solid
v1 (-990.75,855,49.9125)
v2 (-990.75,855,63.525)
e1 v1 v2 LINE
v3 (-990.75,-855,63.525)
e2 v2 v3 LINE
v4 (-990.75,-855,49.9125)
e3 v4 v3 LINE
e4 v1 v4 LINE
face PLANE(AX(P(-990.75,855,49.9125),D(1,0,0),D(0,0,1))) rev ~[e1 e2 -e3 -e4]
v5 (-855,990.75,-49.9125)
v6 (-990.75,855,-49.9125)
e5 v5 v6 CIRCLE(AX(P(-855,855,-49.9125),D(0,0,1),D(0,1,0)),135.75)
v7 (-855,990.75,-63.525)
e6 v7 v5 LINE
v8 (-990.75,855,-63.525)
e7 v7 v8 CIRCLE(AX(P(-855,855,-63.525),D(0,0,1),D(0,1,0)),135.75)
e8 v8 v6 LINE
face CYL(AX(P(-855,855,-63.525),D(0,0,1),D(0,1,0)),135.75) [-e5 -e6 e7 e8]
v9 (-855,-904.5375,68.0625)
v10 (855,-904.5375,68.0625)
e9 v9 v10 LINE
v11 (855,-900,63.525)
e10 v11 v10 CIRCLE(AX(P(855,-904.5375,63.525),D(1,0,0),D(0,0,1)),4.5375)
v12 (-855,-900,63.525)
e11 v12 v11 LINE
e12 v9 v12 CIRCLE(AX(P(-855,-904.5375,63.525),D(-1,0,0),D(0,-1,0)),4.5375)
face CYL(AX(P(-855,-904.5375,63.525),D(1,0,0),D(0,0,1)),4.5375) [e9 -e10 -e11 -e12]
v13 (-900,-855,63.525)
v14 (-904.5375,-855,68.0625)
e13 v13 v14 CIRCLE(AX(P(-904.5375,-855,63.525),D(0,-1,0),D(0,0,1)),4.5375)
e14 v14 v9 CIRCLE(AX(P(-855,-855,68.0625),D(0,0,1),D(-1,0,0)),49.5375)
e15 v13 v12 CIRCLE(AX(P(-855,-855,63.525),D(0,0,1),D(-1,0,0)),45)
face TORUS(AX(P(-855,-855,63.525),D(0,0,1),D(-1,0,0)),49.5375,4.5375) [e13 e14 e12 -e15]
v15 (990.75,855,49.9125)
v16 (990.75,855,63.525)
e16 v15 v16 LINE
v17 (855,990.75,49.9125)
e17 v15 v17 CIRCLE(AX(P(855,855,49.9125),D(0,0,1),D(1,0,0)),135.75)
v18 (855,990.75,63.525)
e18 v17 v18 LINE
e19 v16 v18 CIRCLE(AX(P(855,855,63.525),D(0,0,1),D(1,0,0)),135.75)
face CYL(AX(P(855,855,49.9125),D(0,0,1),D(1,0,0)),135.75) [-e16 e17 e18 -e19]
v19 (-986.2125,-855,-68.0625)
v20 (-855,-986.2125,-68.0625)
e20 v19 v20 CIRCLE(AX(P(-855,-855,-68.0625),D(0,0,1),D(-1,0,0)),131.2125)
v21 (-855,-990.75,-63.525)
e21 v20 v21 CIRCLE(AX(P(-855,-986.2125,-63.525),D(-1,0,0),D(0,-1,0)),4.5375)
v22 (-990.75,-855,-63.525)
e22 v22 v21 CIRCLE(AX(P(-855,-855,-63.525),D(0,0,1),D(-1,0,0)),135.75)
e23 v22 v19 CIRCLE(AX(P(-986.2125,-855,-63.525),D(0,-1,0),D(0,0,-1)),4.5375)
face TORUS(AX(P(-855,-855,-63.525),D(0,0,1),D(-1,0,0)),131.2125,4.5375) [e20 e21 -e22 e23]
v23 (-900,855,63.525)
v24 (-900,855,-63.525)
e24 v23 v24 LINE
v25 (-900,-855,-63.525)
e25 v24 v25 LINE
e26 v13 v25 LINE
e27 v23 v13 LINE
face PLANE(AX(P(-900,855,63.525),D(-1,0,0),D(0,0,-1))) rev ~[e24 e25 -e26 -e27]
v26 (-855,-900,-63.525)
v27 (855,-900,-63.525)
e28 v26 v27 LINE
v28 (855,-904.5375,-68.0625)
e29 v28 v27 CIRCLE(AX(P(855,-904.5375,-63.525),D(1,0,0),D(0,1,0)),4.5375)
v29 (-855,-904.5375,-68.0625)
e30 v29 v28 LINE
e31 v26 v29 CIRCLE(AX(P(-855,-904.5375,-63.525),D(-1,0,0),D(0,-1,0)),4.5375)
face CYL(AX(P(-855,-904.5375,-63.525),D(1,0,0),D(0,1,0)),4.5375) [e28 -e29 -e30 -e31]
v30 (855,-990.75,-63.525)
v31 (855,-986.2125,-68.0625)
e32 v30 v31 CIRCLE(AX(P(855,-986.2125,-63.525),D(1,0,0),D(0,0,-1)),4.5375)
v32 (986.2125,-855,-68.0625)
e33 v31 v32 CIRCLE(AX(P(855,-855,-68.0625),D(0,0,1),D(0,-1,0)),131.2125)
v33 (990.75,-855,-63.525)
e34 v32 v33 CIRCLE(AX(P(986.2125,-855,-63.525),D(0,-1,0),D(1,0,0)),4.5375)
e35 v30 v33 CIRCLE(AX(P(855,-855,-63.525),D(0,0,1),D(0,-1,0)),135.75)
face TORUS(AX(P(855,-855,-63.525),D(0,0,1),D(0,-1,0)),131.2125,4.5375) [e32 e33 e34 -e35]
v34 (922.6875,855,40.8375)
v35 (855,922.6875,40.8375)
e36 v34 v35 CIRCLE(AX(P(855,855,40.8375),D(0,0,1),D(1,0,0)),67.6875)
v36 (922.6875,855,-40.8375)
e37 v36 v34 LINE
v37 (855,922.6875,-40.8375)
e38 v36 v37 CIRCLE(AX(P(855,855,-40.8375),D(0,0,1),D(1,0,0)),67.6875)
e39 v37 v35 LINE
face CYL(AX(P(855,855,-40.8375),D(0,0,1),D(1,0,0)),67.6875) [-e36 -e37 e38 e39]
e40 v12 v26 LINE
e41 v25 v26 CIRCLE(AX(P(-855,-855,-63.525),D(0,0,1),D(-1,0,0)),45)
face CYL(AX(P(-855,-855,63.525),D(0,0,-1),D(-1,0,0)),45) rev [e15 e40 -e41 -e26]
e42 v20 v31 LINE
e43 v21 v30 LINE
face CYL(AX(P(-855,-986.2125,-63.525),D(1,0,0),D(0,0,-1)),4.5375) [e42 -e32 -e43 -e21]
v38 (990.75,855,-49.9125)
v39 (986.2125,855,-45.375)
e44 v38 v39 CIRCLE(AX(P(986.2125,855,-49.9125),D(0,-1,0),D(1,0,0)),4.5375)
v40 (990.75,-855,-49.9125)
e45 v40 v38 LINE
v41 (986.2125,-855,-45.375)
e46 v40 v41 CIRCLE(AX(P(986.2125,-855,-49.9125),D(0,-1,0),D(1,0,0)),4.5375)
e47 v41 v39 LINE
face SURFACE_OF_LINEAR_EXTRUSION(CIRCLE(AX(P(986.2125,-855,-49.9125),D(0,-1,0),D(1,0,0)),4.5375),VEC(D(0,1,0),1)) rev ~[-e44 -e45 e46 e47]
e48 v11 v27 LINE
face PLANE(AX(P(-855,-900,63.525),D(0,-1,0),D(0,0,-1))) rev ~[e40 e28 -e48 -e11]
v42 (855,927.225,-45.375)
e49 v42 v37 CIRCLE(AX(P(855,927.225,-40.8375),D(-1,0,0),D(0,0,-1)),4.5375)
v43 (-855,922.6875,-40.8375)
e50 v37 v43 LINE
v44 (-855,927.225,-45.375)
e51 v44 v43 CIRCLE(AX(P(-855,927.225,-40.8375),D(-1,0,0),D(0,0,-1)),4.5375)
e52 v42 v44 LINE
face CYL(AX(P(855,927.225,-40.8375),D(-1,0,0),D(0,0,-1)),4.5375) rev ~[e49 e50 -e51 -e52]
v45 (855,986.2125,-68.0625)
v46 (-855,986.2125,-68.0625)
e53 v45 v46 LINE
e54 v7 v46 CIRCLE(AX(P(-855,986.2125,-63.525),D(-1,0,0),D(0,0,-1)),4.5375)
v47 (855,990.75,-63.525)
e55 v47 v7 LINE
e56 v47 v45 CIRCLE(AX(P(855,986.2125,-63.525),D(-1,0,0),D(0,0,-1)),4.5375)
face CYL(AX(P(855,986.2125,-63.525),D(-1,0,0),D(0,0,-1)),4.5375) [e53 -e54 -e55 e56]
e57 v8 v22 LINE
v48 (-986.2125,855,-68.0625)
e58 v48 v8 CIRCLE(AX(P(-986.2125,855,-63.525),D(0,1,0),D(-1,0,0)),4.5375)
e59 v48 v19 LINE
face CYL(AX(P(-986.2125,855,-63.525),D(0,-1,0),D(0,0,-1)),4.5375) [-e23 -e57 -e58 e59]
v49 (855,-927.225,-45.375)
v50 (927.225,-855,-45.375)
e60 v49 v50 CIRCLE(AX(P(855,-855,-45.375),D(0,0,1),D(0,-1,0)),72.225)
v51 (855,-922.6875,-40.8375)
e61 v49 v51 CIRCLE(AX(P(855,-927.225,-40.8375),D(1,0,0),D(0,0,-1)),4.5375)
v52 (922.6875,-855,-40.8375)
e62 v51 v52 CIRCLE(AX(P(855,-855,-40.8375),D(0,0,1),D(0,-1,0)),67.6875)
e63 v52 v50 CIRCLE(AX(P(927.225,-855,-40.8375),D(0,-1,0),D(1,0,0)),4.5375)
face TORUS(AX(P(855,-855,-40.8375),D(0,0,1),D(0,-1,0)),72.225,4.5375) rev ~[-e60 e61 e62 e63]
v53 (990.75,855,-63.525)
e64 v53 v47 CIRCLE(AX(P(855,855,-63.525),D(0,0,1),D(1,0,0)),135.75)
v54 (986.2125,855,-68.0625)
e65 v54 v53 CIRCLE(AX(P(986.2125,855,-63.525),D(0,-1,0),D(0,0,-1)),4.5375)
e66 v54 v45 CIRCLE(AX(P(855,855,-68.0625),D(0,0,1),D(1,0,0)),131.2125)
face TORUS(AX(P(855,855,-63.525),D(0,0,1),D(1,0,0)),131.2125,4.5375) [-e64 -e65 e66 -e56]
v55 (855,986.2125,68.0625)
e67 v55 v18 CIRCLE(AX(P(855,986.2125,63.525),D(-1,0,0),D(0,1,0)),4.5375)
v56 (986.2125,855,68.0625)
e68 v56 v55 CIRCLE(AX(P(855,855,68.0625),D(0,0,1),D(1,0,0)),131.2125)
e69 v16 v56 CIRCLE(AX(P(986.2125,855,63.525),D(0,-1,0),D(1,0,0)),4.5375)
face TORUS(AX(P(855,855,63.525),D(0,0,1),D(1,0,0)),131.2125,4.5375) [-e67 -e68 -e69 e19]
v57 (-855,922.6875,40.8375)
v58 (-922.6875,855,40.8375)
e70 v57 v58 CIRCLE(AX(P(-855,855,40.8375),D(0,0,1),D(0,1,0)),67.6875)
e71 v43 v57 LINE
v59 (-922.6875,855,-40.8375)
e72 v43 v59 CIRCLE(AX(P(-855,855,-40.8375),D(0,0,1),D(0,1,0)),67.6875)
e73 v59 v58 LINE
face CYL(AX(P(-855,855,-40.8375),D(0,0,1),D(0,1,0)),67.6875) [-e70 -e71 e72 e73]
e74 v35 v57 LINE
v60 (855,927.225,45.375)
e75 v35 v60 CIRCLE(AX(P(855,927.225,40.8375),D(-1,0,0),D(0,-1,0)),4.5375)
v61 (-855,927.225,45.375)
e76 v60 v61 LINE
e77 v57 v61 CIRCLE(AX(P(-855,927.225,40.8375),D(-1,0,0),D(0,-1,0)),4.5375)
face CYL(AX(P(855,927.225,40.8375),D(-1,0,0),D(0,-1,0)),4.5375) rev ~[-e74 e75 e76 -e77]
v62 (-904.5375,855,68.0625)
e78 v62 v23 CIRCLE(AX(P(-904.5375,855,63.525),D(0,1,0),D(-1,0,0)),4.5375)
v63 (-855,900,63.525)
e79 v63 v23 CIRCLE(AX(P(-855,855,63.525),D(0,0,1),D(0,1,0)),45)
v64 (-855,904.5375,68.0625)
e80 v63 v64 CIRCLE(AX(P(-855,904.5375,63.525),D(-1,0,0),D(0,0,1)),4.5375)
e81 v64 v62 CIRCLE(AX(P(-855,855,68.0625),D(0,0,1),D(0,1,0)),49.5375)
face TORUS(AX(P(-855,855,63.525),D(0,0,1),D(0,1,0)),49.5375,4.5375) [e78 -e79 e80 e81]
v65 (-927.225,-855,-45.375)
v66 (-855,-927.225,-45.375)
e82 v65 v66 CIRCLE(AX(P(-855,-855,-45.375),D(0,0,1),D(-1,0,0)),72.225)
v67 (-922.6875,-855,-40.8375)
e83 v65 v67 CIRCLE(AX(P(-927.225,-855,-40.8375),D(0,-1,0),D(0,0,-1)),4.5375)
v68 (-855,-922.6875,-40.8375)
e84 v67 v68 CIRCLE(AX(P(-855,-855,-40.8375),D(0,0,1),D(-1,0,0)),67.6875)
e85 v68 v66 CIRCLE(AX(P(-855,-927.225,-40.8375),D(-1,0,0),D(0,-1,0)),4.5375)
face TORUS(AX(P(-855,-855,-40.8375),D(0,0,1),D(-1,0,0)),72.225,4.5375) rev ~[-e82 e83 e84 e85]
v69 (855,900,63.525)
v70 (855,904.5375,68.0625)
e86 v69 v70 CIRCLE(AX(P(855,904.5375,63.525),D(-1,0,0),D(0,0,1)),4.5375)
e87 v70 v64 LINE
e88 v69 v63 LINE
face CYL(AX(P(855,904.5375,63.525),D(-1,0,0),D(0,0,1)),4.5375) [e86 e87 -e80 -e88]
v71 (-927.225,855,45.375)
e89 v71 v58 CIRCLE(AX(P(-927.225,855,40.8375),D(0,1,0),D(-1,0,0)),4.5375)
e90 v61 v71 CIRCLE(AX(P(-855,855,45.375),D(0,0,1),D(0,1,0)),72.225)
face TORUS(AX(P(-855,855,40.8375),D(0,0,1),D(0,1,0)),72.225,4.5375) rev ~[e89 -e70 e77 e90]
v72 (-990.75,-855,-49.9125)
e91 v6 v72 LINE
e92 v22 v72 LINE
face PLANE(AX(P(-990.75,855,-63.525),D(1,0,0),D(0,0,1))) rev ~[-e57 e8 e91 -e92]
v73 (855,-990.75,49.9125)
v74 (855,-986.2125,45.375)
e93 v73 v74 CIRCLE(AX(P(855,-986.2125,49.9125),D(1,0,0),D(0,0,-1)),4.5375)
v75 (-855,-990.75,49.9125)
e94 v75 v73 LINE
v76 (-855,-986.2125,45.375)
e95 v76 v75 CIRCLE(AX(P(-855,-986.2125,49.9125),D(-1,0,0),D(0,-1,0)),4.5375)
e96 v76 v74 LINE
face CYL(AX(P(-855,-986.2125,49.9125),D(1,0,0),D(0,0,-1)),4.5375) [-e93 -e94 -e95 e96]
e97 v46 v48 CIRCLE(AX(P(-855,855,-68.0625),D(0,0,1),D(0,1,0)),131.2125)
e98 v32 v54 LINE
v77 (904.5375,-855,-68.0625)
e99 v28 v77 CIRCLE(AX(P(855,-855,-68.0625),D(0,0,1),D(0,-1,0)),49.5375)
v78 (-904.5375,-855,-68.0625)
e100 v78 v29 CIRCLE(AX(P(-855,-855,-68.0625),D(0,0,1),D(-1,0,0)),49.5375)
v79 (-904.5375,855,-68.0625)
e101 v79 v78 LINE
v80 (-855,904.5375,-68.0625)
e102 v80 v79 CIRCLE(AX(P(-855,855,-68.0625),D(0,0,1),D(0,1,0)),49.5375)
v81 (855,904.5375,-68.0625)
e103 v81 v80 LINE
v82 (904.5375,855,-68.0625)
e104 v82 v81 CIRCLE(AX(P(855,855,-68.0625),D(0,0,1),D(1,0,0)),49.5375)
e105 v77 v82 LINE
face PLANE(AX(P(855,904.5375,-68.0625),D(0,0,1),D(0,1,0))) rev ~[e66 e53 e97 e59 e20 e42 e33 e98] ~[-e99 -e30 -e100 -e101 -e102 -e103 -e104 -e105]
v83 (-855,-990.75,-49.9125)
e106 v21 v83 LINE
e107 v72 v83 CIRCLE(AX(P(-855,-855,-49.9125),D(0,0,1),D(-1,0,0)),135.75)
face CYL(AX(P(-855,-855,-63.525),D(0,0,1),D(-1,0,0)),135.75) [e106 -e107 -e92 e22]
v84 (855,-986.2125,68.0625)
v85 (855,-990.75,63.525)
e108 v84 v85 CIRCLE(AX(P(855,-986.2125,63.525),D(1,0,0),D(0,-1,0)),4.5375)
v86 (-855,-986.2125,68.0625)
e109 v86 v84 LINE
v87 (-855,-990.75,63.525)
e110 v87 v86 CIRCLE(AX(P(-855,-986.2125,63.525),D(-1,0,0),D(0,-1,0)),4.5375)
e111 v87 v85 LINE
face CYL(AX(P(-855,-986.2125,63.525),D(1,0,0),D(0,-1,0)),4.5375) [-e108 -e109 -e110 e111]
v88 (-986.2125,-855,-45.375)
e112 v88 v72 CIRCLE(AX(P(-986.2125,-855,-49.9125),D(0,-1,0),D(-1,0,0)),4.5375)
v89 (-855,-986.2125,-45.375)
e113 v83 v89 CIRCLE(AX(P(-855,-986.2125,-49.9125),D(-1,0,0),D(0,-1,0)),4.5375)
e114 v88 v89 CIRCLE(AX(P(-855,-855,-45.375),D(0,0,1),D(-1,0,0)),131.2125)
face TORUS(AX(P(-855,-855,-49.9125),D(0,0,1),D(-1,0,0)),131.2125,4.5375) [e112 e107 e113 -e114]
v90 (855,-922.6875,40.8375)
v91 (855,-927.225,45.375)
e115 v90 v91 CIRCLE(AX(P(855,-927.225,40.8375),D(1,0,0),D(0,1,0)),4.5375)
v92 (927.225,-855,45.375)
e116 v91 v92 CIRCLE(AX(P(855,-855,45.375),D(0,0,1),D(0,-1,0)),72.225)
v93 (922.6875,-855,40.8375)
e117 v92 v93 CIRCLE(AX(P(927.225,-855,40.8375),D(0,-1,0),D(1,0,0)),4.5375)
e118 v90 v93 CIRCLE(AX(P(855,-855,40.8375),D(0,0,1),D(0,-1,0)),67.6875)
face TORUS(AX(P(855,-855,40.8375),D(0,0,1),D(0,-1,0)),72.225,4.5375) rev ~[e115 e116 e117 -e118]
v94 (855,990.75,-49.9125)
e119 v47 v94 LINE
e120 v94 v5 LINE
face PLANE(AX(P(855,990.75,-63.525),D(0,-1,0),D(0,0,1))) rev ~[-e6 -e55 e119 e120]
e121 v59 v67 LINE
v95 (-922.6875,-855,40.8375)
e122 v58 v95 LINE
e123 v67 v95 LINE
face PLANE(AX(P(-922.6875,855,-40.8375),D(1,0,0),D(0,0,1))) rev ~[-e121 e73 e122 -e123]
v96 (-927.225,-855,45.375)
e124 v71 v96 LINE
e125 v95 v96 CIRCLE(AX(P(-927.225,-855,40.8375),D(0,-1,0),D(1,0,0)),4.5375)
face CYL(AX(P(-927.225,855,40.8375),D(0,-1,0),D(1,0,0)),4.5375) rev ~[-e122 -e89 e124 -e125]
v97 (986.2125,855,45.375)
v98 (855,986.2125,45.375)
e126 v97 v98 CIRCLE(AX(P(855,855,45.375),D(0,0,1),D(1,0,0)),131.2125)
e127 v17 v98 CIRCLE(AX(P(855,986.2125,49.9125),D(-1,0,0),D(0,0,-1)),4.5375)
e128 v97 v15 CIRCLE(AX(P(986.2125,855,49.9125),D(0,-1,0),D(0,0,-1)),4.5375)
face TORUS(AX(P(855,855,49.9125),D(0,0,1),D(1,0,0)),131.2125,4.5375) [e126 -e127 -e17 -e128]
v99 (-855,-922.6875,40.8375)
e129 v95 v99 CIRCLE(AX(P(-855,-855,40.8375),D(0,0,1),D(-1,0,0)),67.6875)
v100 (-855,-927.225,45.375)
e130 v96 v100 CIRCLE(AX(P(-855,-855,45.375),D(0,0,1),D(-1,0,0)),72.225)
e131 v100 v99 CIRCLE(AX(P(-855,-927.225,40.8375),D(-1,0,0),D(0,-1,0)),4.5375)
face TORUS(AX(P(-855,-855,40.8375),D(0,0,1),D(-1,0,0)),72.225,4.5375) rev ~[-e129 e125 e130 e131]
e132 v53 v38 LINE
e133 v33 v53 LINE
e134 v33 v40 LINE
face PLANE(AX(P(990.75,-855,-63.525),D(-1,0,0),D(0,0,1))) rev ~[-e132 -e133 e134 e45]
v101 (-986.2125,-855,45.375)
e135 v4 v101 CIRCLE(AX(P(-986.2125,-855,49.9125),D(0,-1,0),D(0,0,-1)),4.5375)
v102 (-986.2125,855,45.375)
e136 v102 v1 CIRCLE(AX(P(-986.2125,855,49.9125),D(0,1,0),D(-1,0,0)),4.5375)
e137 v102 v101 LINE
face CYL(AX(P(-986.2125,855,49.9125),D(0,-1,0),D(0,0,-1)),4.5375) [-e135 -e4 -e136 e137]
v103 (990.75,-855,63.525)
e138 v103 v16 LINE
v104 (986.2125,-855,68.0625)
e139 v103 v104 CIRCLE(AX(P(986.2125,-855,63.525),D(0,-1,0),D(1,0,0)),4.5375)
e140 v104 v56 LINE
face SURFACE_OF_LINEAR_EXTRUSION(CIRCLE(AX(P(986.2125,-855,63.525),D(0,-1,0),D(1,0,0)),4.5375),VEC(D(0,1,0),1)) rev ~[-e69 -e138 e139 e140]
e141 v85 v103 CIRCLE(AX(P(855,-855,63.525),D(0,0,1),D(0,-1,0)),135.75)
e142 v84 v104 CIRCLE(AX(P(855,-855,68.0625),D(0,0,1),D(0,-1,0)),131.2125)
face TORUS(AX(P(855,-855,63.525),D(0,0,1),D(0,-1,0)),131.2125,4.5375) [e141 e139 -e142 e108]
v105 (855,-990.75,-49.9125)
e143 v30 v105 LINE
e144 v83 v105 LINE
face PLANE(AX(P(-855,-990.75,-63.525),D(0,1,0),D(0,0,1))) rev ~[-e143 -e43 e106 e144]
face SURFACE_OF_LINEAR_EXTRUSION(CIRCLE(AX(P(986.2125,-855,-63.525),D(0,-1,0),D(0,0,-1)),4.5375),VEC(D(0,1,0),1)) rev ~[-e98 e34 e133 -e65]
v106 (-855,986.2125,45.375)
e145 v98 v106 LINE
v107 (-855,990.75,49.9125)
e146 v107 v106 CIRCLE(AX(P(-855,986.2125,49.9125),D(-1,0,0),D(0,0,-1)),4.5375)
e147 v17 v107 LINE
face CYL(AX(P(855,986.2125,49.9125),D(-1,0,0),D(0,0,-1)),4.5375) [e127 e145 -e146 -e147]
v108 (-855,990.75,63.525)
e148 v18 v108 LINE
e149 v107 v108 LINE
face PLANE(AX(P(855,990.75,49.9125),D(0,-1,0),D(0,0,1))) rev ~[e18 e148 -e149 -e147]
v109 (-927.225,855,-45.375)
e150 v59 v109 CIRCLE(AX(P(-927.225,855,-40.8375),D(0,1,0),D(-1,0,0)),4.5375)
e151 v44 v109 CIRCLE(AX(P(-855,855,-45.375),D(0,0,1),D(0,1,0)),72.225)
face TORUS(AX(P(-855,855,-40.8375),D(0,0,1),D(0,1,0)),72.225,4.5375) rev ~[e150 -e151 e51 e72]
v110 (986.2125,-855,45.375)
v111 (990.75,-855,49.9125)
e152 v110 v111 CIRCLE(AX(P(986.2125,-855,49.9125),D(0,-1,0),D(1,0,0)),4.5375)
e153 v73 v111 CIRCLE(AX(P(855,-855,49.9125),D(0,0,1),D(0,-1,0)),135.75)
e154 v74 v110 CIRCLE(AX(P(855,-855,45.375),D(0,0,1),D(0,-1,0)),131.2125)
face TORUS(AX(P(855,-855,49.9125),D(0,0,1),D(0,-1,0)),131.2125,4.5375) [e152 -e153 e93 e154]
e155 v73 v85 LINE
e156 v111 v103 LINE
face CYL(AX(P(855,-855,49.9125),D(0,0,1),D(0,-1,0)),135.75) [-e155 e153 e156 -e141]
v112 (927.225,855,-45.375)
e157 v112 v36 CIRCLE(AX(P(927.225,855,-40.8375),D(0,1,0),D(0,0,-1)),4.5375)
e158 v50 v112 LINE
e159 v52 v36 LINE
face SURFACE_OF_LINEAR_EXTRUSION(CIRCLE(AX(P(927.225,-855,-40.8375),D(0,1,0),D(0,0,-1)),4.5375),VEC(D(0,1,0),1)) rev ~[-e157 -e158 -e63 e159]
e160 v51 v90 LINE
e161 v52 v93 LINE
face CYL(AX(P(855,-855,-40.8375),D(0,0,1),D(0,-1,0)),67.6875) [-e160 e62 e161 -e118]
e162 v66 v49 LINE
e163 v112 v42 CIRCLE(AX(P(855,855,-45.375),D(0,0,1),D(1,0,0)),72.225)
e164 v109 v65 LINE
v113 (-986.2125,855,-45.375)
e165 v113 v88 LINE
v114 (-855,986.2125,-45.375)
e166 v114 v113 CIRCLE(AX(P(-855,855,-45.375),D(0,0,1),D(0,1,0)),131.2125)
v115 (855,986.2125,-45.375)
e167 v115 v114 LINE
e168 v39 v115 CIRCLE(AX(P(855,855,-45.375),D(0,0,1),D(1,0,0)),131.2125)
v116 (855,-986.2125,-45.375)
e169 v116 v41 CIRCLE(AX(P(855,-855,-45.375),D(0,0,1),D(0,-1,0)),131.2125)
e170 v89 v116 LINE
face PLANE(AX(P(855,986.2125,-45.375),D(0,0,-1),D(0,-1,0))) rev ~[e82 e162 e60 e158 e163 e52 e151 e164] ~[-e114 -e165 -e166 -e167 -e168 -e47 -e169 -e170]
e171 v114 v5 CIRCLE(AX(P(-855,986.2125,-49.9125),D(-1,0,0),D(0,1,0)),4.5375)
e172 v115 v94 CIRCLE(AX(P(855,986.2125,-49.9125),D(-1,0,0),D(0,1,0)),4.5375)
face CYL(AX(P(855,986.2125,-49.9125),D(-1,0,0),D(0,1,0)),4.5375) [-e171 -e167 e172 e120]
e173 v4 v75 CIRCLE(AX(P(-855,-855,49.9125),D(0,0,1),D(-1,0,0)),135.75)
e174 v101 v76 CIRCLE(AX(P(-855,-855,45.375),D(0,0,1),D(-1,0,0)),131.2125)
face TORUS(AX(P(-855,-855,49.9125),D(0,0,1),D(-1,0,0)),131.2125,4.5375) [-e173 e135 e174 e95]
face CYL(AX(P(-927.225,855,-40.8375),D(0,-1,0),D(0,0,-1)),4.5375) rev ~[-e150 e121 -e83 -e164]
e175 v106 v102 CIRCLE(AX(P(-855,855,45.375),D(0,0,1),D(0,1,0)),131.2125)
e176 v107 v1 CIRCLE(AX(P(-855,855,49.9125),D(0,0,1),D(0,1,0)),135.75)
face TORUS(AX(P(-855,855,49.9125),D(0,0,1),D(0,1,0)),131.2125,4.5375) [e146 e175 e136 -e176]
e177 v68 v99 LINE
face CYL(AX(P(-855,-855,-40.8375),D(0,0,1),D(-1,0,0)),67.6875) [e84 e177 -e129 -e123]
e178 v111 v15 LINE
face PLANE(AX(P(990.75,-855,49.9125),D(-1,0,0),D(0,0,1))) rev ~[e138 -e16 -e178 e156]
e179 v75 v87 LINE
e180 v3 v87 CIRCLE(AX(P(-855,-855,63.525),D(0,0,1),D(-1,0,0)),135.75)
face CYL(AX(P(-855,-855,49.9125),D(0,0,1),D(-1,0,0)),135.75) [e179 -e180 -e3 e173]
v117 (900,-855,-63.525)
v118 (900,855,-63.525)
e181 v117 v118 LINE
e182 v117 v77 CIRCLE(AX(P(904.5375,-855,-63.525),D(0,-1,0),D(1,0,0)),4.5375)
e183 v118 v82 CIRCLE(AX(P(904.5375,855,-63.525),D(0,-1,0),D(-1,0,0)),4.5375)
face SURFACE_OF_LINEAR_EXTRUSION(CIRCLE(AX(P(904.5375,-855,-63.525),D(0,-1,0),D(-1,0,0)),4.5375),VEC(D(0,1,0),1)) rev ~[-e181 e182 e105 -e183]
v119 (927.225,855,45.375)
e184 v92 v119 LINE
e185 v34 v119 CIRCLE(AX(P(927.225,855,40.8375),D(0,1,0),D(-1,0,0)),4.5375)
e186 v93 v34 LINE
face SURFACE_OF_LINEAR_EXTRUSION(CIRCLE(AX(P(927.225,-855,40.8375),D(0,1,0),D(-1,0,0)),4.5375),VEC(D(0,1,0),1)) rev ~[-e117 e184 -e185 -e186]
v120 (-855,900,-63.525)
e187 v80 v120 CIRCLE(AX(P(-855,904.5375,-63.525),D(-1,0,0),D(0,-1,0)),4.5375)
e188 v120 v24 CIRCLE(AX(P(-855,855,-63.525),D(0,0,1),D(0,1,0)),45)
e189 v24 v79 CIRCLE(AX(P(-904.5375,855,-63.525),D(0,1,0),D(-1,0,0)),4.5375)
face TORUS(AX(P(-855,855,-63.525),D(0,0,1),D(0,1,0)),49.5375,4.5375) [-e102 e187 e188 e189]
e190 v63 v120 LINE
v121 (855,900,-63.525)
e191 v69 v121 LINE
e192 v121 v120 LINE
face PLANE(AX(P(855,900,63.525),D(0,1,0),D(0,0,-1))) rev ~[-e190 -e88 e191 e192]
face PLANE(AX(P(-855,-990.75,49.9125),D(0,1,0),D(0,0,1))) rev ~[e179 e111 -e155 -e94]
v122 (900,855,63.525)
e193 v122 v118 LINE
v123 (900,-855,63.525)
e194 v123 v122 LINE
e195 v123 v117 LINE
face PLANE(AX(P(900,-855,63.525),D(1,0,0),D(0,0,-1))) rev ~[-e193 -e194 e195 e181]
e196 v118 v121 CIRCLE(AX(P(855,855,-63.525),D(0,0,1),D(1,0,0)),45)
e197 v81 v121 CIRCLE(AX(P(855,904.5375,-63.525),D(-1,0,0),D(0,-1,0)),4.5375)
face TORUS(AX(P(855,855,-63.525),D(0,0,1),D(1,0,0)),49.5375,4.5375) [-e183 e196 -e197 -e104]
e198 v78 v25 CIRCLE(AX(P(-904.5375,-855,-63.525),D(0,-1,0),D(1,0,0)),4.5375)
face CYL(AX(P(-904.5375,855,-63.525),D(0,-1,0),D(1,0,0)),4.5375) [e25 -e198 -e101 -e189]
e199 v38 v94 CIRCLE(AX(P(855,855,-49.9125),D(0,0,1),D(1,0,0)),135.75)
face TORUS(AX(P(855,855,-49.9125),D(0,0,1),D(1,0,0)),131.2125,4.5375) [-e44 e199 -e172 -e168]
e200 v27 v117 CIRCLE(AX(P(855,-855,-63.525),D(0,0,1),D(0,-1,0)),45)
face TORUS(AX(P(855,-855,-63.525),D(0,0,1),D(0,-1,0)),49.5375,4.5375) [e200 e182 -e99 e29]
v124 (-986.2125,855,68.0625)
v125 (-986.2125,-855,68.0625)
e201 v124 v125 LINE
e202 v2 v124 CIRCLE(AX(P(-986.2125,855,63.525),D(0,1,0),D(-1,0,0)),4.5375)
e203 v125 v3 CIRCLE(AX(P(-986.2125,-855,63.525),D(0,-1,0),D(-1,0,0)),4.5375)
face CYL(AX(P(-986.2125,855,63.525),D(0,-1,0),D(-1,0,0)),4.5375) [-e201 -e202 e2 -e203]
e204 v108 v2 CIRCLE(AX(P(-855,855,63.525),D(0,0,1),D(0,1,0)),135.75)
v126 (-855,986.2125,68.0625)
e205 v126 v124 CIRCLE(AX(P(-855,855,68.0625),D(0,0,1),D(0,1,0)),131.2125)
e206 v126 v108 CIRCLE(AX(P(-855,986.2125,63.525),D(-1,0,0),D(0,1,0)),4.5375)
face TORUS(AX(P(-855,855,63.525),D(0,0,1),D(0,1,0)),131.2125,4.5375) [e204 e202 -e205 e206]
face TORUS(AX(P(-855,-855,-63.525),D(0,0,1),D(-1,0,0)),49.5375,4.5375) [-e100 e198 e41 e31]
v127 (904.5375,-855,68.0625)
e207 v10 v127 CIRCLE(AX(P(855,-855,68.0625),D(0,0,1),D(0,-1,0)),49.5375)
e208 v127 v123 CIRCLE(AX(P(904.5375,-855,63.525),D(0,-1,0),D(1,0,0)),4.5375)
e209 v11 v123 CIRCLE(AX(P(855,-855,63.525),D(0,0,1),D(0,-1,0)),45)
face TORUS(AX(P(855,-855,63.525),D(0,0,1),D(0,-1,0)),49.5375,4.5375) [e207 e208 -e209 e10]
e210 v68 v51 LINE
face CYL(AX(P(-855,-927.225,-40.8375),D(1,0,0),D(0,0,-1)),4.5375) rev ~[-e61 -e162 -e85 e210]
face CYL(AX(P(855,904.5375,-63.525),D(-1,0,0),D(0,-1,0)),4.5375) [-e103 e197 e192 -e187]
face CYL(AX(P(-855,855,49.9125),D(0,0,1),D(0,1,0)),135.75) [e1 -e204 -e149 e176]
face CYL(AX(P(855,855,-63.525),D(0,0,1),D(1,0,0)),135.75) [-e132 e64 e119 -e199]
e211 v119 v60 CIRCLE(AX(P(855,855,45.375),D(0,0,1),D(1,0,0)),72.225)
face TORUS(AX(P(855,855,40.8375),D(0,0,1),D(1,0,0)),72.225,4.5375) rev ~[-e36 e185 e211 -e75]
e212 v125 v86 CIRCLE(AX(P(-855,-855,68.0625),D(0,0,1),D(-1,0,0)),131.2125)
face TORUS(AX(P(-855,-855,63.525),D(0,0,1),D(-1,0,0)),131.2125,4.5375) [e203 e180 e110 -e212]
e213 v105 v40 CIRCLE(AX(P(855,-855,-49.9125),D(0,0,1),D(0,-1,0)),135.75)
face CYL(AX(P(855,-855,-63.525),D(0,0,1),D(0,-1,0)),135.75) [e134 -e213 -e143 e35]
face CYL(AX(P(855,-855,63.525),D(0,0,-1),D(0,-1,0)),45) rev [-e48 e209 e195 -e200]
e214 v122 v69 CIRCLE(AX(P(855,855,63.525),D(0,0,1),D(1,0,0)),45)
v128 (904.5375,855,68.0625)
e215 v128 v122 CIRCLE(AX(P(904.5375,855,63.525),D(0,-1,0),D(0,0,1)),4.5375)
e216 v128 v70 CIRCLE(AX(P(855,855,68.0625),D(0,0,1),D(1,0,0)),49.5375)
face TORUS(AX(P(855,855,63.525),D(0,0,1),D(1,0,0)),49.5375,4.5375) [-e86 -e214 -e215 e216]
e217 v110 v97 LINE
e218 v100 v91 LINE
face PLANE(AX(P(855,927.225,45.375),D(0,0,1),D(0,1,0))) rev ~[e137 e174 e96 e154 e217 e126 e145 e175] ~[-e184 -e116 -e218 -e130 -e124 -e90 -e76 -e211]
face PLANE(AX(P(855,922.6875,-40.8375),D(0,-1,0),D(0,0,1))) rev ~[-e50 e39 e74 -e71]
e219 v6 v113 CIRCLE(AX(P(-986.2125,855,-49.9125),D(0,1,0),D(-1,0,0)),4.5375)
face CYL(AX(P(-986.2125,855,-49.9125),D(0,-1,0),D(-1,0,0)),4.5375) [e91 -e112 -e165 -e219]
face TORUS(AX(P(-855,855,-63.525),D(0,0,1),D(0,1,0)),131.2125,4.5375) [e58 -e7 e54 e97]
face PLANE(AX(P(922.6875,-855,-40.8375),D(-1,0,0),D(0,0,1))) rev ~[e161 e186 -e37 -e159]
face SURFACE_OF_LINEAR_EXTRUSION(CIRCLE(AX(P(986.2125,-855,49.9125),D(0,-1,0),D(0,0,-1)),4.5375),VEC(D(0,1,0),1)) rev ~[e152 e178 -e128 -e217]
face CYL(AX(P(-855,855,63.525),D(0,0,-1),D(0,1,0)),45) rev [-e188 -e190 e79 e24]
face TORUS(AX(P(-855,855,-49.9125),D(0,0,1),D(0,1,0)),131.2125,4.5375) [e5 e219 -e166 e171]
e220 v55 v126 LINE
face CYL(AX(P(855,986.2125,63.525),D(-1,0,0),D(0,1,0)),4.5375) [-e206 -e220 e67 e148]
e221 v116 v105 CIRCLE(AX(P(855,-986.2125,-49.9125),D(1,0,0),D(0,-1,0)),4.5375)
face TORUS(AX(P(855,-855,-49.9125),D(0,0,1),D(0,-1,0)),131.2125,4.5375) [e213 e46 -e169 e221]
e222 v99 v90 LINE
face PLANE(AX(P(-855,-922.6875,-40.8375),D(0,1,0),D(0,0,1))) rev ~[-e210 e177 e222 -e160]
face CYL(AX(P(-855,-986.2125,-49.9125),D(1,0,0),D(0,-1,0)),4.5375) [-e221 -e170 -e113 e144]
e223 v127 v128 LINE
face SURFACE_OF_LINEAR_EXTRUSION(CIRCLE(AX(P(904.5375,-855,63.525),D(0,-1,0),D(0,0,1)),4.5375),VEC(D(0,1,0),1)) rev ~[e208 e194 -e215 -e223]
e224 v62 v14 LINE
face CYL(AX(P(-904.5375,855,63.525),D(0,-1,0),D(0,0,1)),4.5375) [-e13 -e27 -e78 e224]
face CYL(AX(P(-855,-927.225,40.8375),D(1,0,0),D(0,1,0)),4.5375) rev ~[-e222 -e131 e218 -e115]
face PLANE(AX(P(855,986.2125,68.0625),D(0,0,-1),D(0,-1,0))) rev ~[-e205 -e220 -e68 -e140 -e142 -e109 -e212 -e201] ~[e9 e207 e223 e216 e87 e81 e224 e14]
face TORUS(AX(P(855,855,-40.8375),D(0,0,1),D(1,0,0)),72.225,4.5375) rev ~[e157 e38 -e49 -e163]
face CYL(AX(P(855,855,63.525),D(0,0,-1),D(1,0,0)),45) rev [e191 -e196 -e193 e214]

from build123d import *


with BuildPart() as part:
    # Sweep1: sweep along a path in Sketch2
    with BuildLine(Plane.XY) as sweep1_path:
        Line((855, 900), (-855, 900))
        ThreePointArc((-855, 900), (-886.819805153, 886.819805153), (-900, 855))
        Line((-900, 855), (-900, -855))
        ThreePointArc((-900, -855), (-886.819805153, -886.819805153), (-855, -900))
        Line((-855, -900), (855, -900))
        ThreePointArc((855, -900), (886.819805153, -886.819805153), (900, -855))
        Line((900, -855), (900, 855))
        ThreePointArc((900, 855), (886.819805153, 886.819805153), (855, 900))
    # Sketch3 → Sweep1 (sweep)
    with BuildSketch(Plane(origin=(0, 0, 0), x_dir=(0, 0, -1), z_dir=(1, 0, 0))):
        with BuildLine():
            Line((-63.525, 900), (63.525, 900))
            ThreePointArc((63.525, 900), (66.73349702, 901.32900298), (68.0625, 904.5375))
            Line((68.0625, 904.5375), (68.0625, 986.2125))
            ThreePointArc((68.0625, 986.2125), (66.73349702, 989.42099702), (63.525, 990.75))
            Line((63.525, 990.75), (49.9125, 990.75))
            ThreePointArc((49.9125, 990.75), (46.70400298, 989.42099702), (45.375, 986.2125))
            Line((45.375, 986.2125), (45.375, 927.225))
            ThreePointArc((45.375, 927.225), (44.04599702, 924.01650298), (40.8375, 922.6875))
            Line((40.8375, 922.6875), (-40.8375, 922.6875))
            ThreePointArc((-40.8375, 922.6875), (-44.04599702, 924.01650298), (-45.375, 927.225))
            Line((-45.375, 927.225), (-45.375, 986.2125))
            ThreePointArc((-45.375, 986.2125), (-46.70400298, 989.42099702), (-49.9125, 990.75))
            Line((-49.9125, 990.75), (-63.525, 990.75))
            ThreePointArc((-63.525, 990.75), (-66.73349702, 989.42099702), (-68.0625, 986.2125))
            Line((-68.0625, 986.2125), (-68.0625, 904.5375))
            ThreePointArc((-68.0625, 904.5375), (-66.73349702, 901.32900298), (-63.525, 900))
        make_face()
    sweep(path=sweep1_path.line)


solid = part.part
